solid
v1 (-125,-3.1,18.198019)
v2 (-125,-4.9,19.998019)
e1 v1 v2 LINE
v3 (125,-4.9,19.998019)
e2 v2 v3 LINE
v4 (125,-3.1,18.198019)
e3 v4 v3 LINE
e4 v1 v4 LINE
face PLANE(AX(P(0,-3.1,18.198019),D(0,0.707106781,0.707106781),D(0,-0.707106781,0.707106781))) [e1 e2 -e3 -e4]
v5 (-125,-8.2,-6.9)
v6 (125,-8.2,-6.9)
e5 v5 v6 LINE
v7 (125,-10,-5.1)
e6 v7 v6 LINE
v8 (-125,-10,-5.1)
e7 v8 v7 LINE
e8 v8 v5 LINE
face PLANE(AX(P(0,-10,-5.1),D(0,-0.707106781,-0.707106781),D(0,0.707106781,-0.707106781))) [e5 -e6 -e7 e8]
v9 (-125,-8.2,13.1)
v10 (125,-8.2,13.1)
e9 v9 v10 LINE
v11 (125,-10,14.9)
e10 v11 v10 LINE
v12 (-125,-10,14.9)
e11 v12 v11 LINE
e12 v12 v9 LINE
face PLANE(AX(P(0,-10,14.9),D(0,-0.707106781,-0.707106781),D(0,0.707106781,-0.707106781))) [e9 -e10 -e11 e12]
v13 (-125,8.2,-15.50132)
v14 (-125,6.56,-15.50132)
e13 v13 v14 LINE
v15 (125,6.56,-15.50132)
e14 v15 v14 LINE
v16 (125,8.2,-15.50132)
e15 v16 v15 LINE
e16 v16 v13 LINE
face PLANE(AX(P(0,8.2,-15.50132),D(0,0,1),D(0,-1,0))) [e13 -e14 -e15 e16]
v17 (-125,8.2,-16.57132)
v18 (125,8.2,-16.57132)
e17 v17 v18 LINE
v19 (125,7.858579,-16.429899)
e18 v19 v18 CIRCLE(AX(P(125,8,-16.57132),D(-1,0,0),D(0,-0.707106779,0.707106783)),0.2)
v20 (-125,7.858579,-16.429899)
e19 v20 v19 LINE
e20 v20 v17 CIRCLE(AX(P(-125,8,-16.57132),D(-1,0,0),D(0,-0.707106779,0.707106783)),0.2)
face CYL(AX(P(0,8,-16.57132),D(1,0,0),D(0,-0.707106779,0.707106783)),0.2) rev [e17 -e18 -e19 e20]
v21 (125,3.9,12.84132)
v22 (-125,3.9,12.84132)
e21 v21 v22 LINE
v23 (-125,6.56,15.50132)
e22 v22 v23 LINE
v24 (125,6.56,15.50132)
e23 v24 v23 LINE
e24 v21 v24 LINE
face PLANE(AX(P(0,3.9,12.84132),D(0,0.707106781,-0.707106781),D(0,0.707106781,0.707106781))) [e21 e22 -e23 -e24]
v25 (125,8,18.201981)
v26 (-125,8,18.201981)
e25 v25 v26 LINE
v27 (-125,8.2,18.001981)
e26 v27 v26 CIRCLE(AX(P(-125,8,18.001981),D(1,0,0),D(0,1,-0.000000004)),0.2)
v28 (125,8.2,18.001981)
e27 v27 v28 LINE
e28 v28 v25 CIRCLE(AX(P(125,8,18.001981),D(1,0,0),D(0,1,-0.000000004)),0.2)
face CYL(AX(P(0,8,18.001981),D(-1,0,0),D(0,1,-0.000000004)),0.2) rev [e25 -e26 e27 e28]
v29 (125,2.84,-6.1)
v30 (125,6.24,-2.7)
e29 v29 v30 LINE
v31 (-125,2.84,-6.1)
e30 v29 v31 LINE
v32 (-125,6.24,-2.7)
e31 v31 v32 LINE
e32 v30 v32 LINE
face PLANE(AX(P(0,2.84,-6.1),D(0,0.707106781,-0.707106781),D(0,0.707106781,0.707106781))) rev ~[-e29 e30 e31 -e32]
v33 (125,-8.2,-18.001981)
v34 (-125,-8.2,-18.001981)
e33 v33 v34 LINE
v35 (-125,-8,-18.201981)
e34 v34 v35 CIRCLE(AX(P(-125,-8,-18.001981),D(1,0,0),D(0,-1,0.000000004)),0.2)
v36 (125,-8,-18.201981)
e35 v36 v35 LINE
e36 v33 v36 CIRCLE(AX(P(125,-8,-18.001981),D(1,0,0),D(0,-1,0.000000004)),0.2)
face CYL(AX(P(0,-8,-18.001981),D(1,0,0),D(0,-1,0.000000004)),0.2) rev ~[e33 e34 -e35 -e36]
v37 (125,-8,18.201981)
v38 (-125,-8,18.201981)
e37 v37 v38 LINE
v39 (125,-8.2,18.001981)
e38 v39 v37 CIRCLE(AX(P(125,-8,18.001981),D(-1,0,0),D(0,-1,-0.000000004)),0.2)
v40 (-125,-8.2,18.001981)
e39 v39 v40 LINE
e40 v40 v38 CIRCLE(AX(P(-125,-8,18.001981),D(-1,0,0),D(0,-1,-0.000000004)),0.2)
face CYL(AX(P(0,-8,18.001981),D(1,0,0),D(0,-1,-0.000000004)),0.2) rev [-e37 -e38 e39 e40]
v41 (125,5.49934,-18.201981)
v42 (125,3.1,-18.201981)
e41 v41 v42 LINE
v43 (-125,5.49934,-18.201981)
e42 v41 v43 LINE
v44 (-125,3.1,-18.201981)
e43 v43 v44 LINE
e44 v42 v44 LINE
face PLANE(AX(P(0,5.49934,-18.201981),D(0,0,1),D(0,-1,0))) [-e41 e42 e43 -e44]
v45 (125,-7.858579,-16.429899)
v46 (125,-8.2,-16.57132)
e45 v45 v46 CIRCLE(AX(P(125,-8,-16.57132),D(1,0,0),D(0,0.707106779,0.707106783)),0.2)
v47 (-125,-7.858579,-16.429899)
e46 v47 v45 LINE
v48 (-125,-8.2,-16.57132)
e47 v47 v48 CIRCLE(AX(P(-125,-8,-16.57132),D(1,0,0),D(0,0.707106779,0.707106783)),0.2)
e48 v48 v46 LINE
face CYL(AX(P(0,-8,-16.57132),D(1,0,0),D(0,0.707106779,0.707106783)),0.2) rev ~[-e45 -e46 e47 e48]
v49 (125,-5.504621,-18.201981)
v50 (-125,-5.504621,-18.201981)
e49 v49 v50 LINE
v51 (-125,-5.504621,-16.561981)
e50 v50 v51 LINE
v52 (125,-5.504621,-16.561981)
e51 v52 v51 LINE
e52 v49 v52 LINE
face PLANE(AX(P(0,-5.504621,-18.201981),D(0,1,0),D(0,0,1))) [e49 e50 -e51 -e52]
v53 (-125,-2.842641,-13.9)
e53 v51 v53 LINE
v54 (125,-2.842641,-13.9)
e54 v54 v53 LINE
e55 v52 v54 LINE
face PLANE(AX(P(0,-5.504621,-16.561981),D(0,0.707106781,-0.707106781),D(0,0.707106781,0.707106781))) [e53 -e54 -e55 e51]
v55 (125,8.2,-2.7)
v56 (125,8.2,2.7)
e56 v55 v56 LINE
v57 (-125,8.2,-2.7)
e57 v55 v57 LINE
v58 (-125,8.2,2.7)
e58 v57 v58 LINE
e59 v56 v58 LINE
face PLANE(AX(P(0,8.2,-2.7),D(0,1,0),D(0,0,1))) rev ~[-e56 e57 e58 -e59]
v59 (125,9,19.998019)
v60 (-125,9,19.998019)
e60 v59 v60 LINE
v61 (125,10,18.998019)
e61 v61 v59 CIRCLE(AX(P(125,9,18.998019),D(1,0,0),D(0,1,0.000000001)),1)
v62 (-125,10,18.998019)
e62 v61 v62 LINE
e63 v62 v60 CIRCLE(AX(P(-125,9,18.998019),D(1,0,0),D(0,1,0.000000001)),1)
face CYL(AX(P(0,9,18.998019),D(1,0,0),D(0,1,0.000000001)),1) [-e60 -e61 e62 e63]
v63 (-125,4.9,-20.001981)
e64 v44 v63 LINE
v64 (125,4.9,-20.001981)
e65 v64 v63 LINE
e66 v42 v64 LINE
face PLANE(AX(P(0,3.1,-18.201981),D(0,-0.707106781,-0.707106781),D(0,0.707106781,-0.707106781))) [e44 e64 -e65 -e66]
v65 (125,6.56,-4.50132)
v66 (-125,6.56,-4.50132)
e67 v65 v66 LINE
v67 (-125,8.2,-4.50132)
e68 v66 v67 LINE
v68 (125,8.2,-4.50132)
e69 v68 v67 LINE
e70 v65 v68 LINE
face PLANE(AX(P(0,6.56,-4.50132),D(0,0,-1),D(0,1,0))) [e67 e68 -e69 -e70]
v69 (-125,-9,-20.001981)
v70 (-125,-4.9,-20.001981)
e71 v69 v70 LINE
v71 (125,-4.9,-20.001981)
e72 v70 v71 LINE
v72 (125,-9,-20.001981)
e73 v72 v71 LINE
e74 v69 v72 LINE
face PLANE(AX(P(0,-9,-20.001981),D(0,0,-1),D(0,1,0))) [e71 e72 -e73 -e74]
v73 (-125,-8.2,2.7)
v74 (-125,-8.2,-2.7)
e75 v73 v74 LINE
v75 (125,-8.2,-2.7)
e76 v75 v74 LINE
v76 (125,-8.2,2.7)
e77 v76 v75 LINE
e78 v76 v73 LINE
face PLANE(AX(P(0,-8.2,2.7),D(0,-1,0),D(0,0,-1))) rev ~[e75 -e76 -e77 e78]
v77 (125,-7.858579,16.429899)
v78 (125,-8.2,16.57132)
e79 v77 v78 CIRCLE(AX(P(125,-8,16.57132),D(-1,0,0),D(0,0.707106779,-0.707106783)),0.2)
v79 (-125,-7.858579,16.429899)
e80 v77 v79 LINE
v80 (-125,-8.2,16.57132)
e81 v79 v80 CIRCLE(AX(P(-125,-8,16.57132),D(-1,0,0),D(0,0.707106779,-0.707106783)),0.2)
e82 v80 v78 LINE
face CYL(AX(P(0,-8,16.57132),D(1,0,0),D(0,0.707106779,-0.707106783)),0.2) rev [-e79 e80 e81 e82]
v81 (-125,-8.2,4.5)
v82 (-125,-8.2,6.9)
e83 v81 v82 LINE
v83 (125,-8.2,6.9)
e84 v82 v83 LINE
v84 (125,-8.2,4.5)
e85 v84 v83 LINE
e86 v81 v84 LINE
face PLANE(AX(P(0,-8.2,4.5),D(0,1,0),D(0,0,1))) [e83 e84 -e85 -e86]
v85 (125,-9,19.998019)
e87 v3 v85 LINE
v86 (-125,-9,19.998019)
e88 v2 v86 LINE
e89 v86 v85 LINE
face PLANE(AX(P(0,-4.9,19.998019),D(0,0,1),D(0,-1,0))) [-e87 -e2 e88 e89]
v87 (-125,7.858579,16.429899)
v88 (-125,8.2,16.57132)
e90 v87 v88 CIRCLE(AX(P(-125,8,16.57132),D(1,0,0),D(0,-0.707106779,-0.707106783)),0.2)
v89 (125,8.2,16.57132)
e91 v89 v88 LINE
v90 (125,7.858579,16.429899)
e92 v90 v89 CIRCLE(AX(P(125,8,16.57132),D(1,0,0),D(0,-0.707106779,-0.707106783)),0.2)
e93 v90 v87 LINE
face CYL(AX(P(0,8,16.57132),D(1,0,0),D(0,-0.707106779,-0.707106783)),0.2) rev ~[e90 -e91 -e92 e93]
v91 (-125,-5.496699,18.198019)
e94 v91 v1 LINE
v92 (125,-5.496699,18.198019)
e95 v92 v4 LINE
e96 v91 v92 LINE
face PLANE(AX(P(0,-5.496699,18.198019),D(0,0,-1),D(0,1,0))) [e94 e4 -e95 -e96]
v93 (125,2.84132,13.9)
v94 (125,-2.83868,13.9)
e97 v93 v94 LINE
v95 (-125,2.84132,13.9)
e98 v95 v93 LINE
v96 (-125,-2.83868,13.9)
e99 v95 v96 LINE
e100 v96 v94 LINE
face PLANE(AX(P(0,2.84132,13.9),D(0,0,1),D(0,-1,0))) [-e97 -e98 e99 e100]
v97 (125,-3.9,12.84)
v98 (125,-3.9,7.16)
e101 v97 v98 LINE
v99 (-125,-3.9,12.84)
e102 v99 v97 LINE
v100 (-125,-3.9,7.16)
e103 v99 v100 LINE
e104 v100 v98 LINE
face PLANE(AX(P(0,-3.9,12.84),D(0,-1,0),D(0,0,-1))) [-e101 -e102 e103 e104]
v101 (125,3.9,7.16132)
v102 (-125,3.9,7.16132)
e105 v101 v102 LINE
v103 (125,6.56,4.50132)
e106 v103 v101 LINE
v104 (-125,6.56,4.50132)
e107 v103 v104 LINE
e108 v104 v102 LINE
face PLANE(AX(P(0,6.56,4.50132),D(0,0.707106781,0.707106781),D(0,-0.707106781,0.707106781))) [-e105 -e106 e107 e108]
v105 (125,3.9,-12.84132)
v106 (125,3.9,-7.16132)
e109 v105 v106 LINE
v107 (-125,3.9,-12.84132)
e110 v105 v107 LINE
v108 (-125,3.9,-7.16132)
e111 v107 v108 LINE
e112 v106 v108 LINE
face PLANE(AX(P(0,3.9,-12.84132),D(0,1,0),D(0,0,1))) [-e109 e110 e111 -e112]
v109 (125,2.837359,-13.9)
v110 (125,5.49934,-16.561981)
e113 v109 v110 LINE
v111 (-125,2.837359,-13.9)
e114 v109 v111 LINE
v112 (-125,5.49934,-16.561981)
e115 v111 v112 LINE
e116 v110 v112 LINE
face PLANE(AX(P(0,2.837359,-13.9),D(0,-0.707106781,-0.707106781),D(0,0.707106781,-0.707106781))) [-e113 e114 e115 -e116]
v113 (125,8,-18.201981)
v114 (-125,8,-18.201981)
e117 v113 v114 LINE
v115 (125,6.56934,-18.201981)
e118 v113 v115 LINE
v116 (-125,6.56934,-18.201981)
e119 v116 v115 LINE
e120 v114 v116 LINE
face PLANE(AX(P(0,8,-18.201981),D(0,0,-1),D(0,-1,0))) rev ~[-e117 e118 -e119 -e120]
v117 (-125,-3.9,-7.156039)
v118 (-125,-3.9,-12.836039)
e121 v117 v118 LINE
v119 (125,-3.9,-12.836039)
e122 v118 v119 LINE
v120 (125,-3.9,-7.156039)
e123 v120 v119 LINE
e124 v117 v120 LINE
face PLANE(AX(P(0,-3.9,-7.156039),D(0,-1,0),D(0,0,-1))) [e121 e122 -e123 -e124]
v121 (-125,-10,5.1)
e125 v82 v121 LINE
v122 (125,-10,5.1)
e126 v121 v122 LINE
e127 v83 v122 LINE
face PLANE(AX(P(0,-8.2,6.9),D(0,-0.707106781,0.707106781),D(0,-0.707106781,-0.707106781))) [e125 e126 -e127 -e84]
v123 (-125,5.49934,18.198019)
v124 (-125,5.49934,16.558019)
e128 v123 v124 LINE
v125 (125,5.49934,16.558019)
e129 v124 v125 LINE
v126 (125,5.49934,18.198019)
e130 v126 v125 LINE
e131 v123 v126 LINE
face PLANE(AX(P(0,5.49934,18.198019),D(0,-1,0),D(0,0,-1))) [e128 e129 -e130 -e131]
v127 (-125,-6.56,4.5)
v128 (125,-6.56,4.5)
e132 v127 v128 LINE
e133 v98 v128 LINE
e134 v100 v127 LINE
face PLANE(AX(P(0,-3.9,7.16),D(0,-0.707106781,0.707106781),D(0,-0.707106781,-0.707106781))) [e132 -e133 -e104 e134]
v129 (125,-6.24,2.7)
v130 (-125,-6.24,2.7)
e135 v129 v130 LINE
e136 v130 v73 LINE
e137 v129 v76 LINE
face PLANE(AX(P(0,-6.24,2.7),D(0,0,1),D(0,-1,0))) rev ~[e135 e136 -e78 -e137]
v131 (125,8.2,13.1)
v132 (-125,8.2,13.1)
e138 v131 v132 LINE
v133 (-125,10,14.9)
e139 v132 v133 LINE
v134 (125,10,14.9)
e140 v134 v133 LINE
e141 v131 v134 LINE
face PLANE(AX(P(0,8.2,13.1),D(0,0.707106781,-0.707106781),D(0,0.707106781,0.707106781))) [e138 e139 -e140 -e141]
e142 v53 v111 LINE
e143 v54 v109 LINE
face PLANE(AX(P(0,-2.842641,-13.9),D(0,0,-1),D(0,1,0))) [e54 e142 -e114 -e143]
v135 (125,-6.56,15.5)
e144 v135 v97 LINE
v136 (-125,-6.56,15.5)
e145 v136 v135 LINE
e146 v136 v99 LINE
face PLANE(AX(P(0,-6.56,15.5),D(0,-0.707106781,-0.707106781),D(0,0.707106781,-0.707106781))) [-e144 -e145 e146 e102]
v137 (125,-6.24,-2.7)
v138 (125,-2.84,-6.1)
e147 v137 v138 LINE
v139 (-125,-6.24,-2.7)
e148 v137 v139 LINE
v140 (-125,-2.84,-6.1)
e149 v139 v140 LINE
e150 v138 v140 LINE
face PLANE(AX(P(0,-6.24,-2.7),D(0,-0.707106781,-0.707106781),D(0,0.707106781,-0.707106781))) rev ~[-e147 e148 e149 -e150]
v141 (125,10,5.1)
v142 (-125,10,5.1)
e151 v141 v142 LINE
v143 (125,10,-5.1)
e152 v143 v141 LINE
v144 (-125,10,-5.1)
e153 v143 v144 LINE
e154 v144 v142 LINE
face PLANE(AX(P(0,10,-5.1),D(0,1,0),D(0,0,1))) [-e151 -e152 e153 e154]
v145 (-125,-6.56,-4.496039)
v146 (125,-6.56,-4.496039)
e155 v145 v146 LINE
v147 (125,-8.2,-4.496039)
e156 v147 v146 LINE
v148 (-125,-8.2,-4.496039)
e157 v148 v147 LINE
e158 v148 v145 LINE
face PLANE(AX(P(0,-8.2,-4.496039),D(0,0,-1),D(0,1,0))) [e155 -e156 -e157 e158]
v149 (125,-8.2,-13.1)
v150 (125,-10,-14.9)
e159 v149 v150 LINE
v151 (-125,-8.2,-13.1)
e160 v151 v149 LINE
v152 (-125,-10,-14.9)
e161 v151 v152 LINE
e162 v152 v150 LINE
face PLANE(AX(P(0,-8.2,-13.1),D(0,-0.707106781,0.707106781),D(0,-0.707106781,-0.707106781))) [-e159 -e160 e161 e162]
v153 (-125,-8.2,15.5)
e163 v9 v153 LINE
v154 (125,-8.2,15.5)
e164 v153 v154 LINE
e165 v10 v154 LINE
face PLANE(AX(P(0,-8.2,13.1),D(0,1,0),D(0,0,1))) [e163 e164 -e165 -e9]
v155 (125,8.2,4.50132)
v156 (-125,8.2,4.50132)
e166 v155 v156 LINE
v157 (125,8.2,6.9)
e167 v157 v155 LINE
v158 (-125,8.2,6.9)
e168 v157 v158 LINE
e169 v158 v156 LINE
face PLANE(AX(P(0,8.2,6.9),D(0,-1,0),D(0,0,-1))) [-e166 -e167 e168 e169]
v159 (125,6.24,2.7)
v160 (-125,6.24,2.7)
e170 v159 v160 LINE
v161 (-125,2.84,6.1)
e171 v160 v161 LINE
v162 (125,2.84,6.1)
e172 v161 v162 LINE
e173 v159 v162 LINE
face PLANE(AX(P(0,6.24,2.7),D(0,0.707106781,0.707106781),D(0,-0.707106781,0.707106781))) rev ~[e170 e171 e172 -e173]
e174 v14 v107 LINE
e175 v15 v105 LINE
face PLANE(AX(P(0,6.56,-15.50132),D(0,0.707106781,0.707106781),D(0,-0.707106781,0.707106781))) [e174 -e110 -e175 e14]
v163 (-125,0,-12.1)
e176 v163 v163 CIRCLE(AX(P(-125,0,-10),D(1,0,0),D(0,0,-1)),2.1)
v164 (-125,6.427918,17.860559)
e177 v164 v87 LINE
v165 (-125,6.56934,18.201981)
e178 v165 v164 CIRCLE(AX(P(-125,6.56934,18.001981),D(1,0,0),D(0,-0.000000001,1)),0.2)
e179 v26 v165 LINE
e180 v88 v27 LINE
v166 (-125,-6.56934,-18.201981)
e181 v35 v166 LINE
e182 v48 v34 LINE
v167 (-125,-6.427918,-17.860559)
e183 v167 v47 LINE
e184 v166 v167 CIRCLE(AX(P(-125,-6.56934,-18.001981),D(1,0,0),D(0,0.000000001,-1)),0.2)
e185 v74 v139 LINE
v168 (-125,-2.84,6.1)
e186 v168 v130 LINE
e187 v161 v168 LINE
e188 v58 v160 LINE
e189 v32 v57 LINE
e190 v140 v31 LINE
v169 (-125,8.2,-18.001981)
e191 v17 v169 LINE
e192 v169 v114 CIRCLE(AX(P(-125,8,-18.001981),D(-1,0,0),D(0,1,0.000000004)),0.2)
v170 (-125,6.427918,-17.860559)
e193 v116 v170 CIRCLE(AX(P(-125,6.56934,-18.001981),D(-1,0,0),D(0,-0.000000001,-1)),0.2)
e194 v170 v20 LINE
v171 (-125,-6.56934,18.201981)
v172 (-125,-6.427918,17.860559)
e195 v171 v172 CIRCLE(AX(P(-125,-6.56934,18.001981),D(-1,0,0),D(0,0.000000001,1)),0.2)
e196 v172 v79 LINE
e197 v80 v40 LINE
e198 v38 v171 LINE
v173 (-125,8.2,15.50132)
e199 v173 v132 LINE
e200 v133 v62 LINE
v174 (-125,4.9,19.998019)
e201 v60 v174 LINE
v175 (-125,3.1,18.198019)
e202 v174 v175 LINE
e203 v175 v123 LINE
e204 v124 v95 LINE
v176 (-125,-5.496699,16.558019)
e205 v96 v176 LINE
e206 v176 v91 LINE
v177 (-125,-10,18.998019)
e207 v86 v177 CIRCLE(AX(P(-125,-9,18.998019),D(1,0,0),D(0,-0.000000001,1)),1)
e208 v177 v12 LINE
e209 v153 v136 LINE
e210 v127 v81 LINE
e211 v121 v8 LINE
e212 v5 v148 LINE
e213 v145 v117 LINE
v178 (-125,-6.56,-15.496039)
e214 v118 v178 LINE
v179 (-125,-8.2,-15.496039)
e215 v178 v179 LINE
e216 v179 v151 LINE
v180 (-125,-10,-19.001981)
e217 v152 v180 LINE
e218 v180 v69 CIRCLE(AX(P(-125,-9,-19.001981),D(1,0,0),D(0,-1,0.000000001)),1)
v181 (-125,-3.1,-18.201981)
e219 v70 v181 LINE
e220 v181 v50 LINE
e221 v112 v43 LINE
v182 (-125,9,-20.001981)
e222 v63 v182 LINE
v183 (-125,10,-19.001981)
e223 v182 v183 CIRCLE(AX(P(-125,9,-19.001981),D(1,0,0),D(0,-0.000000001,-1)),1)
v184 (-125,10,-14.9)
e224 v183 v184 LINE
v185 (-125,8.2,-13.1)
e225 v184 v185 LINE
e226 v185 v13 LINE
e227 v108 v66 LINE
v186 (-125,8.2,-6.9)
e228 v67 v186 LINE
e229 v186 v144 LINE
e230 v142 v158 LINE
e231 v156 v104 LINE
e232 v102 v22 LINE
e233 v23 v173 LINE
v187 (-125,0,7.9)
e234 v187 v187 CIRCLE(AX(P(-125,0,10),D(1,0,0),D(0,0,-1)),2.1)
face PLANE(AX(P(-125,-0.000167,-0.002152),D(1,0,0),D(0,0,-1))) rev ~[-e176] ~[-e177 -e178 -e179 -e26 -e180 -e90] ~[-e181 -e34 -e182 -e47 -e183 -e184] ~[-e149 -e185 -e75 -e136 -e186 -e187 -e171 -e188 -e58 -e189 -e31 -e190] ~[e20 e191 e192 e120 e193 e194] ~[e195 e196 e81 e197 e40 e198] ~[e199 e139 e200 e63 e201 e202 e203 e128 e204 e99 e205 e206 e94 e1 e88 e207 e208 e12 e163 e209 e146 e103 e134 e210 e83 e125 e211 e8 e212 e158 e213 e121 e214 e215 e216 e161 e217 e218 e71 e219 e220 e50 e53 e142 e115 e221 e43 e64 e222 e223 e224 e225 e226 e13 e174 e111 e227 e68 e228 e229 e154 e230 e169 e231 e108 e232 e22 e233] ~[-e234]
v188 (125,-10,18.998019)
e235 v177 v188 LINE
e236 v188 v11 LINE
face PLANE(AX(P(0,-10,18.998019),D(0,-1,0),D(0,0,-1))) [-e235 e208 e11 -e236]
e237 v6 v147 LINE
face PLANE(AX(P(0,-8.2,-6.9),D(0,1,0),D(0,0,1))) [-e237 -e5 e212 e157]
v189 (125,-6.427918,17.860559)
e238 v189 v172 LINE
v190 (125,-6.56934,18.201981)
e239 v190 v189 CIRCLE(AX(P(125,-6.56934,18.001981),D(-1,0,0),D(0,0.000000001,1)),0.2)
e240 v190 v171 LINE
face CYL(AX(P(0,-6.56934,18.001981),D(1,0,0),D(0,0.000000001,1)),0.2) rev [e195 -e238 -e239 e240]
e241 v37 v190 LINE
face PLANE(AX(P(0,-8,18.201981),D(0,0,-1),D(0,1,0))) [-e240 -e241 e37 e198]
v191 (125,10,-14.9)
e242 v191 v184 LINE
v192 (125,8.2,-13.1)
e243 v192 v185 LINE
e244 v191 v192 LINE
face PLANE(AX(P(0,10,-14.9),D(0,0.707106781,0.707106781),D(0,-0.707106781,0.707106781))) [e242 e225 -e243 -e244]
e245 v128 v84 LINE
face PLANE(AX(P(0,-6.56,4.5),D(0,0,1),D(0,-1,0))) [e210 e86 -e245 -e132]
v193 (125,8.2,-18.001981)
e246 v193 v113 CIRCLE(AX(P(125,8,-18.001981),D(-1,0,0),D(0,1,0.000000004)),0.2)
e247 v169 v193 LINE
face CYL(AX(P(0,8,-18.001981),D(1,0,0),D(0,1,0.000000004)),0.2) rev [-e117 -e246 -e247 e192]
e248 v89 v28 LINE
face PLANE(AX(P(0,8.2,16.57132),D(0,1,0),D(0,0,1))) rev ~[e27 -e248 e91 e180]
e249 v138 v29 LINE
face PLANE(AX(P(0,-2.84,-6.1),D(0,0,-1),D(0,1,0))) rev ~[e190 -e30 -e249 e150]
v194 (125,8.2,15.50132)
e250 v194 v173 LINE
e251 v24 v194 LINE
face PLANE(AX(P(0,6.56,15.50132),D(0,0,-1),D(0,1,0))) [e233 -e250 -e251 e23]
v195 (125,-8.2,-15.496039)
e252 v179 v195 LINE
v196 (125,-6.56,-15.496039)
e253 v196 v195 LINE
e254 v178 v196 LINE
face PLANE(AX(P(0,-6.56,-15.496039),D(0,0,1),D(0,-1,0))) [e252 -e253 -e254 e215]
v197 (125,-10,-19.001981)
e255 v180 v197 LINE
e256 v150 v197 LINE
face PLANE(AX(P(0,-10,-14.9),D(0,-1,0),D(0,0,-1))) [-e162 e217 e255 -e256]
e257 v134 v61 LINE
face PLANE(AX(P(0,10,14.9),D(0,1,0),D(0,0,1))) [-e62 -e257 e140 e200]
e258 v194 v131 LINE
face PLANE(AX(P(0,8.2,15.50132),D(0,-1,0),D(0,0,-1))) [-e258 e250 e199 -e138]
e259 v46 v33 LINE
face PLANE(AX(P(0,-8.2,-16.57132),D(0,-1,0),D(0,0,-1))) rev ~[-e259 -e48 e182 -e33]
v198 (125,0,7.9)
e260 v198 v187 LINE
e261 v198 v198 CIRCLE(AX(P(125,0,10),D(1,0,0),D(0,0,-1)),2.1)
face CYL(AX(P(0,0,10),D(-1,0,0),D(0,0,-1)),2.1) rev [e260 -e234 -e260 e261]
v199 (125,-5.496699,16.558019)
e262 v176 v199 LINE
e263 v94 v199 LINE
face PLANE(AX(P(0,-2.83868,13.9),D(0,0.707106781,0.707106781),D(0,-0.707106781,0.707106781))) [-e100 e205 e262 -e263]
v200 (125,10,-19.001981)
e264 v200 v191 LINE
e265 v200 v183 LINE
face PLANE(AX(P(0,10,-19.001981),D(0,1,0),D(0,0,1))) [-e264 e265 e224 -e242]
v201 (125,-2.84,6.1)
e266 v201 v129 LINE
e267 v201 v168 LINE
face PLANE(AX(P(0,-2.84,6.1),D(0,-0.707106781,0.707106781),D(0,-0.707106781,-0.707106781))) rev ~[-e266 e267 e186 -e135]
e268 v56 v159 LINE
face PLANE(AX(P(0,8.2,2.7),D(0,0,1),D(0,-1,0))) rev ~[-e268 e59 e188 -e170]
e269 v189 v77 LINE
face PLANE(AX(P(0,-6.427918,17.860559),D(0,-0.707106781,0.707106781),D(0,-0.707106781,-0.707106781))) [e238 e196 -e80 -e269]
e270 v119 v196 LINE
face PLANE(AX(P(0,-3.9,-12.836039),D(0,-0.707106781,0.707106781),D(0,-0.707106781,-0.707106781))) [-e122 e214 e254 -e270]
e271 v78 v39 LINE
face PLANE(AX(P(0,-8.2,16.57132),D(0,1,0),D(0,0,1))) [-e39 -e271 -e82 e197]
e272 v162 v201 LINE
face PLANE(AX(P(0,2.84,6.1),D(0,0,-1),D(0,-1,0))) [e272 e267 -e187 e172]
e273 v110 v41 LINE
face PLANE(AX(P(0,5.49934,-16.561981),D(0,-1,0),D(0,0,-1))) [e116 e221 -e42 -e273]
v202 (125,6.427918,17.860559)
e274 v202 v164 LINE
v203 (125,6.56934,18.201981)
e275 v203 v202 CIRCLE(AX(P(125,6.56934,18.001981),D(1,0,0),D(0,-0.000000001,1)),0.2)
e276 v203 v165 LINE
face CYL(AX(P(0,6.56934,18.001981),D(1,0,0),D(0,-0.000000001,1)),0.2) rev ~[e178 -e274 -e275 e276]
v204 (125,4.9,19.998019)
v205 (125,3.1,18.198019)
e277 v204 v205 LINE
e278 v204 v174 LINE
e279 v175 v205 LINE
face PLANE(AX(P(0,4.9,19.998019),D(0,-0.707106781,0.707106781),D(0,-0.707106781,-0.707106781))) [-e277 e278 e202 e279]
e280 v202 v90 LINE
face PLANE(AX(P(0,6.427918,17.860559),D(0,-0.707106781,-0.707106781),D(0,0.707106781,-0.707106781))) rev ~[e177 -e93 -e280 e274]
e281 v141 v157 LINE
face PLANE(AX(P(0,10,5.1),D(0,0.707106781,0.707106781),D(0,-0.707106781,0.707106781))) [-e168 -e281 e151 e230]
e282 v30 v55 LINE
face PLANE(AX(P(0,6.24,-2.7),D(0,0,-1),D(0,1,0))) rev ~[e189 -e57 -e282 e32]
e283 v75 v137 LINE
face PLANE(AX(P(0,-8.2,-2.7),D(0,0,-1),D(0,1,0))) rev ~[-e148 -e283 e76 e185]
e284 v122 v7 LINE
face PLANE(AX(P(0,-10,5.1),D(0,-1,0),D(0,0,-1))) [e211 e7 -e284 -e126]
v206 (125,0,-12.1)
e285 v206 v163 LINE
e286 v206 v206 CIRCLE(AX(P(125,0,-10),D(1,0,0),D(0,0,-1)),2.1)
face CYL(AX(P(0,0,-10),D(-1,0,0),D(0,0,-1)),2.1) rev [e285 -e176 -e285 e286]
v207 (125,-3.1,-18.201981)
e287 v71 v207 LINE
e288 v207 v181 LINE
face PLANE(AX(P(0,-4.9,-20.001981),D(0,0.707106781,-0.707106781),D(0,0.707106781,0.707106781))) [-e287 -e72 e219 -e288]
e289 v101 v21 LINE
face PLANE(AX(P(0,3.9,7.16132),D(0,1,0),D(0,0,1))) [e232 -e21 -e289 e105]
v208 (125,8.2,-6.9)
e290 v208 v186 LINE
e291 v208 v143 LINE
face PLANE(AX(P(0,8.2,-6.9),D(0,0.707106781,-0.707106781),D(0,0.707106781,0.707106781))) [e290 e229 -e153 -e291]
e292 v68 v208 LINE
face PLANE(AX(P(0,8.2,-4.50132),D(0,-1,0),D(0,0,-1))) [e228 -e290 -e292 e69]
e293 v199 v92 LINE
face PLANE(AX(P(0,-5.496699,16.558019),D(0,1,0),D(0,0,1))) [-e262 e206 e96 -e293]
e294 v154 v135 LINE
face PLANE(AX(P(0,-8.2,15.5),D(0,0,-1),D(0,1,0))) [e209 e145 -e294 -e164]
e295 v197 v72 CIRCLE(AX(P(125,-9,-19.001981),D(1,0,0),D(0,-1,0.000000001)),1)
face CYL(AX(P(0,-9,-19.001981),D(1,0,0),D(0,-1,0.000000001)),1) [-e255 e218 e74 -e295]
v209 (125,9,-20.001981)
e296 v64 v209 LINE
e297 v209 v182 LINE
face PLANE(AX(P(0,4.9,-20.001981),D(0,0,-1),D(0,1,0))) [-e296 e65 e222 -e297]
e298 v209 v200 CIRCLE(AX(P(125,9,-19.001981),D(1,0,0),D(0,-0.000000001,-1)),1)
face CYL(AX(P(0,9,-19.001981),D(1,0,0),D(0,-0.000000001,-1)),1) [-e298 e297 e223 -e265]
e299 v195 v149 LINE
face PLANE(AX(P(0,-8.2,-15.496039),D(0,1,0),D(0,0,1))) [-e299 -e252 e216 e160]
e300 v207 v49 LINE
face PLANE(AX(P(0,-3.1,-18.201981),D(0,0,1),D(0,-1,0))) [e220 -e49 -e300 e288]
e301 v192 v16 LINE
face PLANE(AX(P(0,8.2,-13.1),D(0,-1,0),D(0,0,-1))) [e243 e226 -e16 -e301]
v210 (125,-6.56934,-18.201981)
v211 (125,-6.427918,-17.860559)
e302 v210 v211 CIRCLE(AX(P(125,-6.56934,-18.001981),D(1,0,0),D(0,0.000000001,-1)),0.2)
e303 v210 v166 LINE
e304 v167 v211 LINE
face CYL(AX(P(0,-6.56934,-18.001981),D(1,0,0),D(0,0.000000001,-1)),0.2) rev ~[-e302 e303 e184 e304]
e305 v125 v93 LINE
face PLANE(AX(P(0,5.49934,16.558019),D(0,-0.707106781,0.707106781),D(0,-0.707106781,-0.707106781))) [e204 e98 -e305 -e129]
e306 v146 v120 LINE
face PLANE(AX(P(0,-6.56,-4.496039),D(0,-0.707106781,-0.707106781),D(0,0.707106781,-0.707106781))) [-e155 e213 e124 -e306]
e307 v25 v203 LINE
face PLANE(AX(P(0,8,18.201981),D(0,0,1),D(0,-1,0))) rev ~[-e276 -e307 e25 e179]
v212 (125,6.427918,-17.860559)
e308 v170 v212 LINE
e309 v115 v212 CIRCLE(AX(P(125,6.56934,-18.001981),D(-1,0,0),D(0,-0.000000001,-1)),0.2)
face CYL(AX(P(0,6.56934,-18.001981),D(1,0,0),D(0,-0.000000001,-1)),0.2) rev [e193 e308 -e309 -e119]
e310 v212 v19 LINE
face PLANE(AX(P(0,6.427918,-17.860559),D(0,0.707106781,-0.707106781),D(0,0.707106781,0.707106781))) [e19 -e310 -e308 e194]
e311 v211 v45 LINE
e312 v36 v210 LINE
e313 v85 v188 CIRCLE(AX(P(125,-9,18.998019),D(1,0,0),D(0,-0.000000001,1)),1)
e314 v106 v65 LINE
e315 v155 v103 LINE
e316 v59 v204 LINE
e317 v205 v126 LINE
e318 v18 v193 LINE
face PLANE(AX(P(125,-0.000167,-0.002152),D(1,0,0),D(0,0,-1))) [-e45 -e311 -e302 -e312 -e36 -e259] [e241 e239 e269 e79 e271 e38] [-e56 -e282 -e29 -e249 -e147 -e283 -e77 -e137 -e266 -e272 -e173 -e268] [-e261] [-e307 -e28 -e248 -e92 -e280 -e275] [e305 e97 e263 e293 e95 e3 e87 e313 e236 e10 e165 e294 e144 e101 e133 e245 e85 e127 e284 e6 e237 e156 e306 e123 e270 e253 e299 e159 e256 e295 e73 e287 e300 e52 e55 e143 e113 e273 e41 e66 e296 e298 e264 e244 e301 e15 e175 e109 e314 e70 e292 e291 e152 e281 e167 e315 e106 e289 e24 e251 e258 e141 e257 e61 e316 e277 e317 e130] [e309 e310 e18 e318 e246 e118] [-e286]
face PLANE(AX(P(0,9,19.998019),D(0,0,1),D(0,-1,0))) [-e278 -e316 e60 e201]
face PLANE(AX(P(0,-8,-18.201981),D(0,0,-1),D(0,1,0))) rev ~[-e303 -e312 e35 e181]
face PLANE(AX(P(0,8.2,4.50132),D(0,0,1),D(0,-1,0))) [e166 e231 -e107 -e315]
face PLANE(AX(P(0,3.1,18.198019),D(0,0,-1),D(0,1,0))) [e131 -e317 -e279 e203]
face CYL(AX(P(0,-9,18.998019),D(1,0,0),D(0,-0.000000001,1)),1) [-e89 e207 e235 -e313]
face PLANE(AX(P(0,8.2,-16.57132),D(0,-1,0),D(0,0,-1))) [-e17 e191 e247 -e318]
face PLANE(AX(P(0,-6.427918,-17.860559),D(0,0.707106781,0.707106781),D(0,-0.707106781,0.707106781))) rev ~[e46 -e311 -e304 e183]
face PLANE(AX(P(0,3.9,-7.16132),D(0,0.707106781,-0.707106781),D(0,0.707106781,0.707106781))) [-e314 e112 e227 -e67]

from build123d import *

# Parameters (mm, degrees)
SKETCH5_R           = 2.1
BOSS_EXTRUDE1_DEPTH = 125


with BuildPart() as part:
    # Sketch5 → Boss-Extrude1 (new body, symmetric)
    with BuildSketch(Plane(origin=(0, 0, 0), x_dir=(0, 0, -1), z_dir=(1, 0, 0))):
        with BuildLine():
            Line((-19.998019485, 4.9), (-18.198019485, 3.1))
            Line((-18.198019485, 3.1), (-18.198019485, 5.499339828))
            Line((-18.198019485, 5.499339828), (-16.558019485, 5.499339828))
            Line((-16.558019485, 5.499339828), (-13.9, 2.841320344))
            Line((-13.9, 2.841320344), (-13.9, -2.838679656))
            Line((-13.9, -2.838679656), (-16.558019485, -5.496699141))
            Line((-16.558019485, -5.496699141), (-18.198019485, -5.496699141))
            Line((-18.198019485, -5.496699141), (-18.198019485, -3.1))
            Line((-18.198019485, -3.1), (-19.998019485, -4.9))
            Line((-19.998019485, -4.9), (-19.998019485, -9))
            ThreePointArc((-19.998019485, -9), (-19.705126266, -9.707106781), (-18.998019485, -10))
            Line((-18.998019485, -10), (-14.9, -10))
            Line((-14.9, -10), (-13.1, -8.2))
            Line((-13.1, -8.2), (-15.5, -8.2))
            Line((-15.5, -8.2), (-15.5, -6.56))
            Line((-15.5, -6.56), (-12.84, -3.9))
            Line((-12.84, -3.9), (-7.16, -3.9))
            Line((-7.16, -3.9), (-4.5, -6.56))
            Line((-4.5, -6.56), (-4.5, -8.2))
            Line((-4.5, -8.2), (-6.9, -8.2))
            Line((-6.9, -8.2), (-5.1, -10))
            Line((-5.1, -10), (5.1, -10))
            Line((5.1, -10), (6.9, -8.2))
            Line((6.9, -8.2), (4.496038969, -8.2))
            Line((4.496038969, -8.2), (4.496038969, -6.56))
            Line((4.496038969, -6.56), (7.156038969, -3.9))
            Line((7.156038969, -3.9), (12.836038969, -3.9))
            Line((12.836038969, -3.9), (15.496038969, -6.56))
            Line((15.496038969, -6.56), (15.496038969, -8.2))
            Line((15.496038969, -8.2), (13.1, -8.2))
            Line((13.1, -8.2), (14.9, -10))
            Line((14.9, -10), (19.001980515, -10))
            ThreePointArc((19.001980515, -10), (19.709087297, -9.707106781), (20.001980515, -9))
            Line((20.001980515, -9), (20.001980515, -4.9))
            Line((20.001980515, -4.9), (18.201980515, -3.1))
            Line((18.201980515, -3.1), (18.201980515, -5.504621202))
            Line((18.201980515, -5.504621202), (16.561980515, -5.504621202))
            Line((16.561980515, -5.504621202), (13.9, -2.842640687))
            Line((13.9, -2.842640687), (13.9, 2.837359313))
            Line((13.9, 2.837359313), (16.561980515, 5.499339828))
            Line((16.561980515, 5.499339828), (18.201980515, 5.499339828))
            Line((18.201980515, 5.499339828), (18.201980515, 3.1))
            Line((18.201980515, 3.1), (20.001980515, 4.9))
            Line((20.001980515, 4.9), (20.001980515, 9))
            ThreePointArc((20.001980515, 9), (19.709087297, 9.707106781), (19.001980515, 10))
            Line((19.001980515, 10), (14.9, 10))
            Line((14.9, 10), (13.1, 8.2))
            Line((13.1, 8.2), (15.501320344, 8.2))
            Line((15.501320344, 8.2), (15.501320344, 6.56))
            Line((15.501320344, 6.56), (12.841320344, 3.9))
            Line((12.841320344, 3.9), (7.161320344, 3.9))
            Line((7.161320344, 3.9), (4.501320344, 6.56))
            Line((4.501320344, 6.56), (4.501320344, 8.2))
            Line((4.501320344, 8.2), (6.9, 8.2))
            Line((6.9, 8.2), (5.1, 10))
            Line((5.1, 10), (-5.1, 10))
            Line((-5.1, 10), (-6.9, 8.2))
            Line((-6.9, 8.2), (-4.501320344, 8.2))
            Line((-4.501320344, 8.2), (-4.501320344, 6.56))
            Line((-4.501320344, 6.56), (-7.161320344, 3.9))
            Line((-7.161320344, 3.9), (-12.841320344, 3.9))
            Line((-12.841320344, 3.9), (-15.501320344, 6.56))
            Line((-15.501320344, 6.56), (-15.501320344, 8.2))
            Line((-15.501320344, 8.2), (-13.1, 8.2))
            Line((-13.1, 8.2), (-14.9, 10))
            Line((-14.9, 10), (-18.998019485, 10))
            ThreePointArc((-18.998019485, 10), (-19.705126266, 9.707106781), (-19.998019485, 9))
            Line((-19.998019485, 9), (-19.998019485, 4.9))
        make_face()
        with Locations((-10, 0)):
            Circle(SKETCH5_R, mode=Mode.SUBTRACT)
        with Locations((10, 0)):
            Circle(SKETCH5_R, mode=Mode.SUBTRACT)
        Polygon((6.1, -2.84), (6.1, 2.84), (2.7, 6.24), (2.7, 8.2), (-2.7, 8.2), (-2.7, 6.24), (-6.1, 2.84), (-6.1, -2.84), (-2.7, -6.24), (-2.7, -8.2), (2.7, -8.2), (2.7, -6.24), align=None, mode=Mode.SUBTRACT)
        with BuildLine():
            Line((16.571320344, 8.2), (18.001980515, 8.2))
            ThreePointArc((18.001980515, 8.2), (18.143401872, 8.141421356), (18.201980515, 8))
            Line((18.201980515, 8), (18.201980515, 6.569339828))
            ThreePointArc((18.201980515, 6.569339828), (18.078517202, 6.384563922), (17.860559159, 6.427918472))
            Line((17.860559159, 6.427918472), (16.429898987, 7.858578644))
            ThreePointArc((16.429898987, 7.858578644), (16.386544437, 8.076536686), (16.571320344, 8.2))
        make_face(mode=Mode.SUBTRACT)
        with BuildLine():
            Line((16.571320344, -8.2), (18.001980515, -8.2))
            ThreePointArc((18.001980515, -8.2), (18.143401872, -8.141421356), (18.201980515, -8))
            Line((18.201980515, -8), (18.201980515, -6.569339828))
            ThreePointArc((18.201980515, -6.569339828), (18.078517202, -6.384563922), (17.860559159, -6.427918472))
            Line((17.860559159, -6.427918472), (16.429898987, -7.858578644))
            ThreePointArc((16.429898987, -7.858578644), (16.386544437, -8.076536686), (16.571320344, -8.2))
        make_face(mode=Mode.SUBTRACT)
        with BuildLine():
            Line((-17.860559159, 6.427918472), (-16.429898987, 7.858578644))
            ThreePointArc((-16.429898987, 7.858578644), (-16.386544437, 8.076536686), (-16.571320344, 8.2))
            Line((-16.571320344, 8.2), (-18.001980515, 8.2))
            ThreePointArc((-18.001980515, 8.2), (-18.143401872, 8.141421356), (-18.201980515, 8))
            Line((-18.201980515, 8), (-18.201980515, 6.569339828))
            ThreePointArc((-18.201980515, 6.569339828), (-18.078517202, 6.384563922), (-17.860559159, 6.427918472))
        make_face(mode=Mode.SUBTRACT)
        with BuildLine():
            Line((-16.571320344, -8.2), (-18.001980515, -8.2))
            ThreePointArc((-18.001980515, -8.2), (-18.143401872, -8.141421356), (-18.201980515, -8))
            Line((-18.201980515, -8), (-18.201980515, -6.569339828))
            ThreePointArc((-18.201980515, -6.569339828), (-18.078517202, -6.384563922), (-17.860559159, -6.427918472))
            Line((-17.860559159, -6.427918472), (-16.429898987, -7.858578644))
            ThreePointArc((-16.429898987, -7.858578644), (-16.386544437, -8.076536686), (-16.571320344, -8.2))
        make_face(mode=Mode.SUBTRACT)
    extrude(amount=BOSS_EXTRUDE1_DEPTH, both=True)


solid = part.part
